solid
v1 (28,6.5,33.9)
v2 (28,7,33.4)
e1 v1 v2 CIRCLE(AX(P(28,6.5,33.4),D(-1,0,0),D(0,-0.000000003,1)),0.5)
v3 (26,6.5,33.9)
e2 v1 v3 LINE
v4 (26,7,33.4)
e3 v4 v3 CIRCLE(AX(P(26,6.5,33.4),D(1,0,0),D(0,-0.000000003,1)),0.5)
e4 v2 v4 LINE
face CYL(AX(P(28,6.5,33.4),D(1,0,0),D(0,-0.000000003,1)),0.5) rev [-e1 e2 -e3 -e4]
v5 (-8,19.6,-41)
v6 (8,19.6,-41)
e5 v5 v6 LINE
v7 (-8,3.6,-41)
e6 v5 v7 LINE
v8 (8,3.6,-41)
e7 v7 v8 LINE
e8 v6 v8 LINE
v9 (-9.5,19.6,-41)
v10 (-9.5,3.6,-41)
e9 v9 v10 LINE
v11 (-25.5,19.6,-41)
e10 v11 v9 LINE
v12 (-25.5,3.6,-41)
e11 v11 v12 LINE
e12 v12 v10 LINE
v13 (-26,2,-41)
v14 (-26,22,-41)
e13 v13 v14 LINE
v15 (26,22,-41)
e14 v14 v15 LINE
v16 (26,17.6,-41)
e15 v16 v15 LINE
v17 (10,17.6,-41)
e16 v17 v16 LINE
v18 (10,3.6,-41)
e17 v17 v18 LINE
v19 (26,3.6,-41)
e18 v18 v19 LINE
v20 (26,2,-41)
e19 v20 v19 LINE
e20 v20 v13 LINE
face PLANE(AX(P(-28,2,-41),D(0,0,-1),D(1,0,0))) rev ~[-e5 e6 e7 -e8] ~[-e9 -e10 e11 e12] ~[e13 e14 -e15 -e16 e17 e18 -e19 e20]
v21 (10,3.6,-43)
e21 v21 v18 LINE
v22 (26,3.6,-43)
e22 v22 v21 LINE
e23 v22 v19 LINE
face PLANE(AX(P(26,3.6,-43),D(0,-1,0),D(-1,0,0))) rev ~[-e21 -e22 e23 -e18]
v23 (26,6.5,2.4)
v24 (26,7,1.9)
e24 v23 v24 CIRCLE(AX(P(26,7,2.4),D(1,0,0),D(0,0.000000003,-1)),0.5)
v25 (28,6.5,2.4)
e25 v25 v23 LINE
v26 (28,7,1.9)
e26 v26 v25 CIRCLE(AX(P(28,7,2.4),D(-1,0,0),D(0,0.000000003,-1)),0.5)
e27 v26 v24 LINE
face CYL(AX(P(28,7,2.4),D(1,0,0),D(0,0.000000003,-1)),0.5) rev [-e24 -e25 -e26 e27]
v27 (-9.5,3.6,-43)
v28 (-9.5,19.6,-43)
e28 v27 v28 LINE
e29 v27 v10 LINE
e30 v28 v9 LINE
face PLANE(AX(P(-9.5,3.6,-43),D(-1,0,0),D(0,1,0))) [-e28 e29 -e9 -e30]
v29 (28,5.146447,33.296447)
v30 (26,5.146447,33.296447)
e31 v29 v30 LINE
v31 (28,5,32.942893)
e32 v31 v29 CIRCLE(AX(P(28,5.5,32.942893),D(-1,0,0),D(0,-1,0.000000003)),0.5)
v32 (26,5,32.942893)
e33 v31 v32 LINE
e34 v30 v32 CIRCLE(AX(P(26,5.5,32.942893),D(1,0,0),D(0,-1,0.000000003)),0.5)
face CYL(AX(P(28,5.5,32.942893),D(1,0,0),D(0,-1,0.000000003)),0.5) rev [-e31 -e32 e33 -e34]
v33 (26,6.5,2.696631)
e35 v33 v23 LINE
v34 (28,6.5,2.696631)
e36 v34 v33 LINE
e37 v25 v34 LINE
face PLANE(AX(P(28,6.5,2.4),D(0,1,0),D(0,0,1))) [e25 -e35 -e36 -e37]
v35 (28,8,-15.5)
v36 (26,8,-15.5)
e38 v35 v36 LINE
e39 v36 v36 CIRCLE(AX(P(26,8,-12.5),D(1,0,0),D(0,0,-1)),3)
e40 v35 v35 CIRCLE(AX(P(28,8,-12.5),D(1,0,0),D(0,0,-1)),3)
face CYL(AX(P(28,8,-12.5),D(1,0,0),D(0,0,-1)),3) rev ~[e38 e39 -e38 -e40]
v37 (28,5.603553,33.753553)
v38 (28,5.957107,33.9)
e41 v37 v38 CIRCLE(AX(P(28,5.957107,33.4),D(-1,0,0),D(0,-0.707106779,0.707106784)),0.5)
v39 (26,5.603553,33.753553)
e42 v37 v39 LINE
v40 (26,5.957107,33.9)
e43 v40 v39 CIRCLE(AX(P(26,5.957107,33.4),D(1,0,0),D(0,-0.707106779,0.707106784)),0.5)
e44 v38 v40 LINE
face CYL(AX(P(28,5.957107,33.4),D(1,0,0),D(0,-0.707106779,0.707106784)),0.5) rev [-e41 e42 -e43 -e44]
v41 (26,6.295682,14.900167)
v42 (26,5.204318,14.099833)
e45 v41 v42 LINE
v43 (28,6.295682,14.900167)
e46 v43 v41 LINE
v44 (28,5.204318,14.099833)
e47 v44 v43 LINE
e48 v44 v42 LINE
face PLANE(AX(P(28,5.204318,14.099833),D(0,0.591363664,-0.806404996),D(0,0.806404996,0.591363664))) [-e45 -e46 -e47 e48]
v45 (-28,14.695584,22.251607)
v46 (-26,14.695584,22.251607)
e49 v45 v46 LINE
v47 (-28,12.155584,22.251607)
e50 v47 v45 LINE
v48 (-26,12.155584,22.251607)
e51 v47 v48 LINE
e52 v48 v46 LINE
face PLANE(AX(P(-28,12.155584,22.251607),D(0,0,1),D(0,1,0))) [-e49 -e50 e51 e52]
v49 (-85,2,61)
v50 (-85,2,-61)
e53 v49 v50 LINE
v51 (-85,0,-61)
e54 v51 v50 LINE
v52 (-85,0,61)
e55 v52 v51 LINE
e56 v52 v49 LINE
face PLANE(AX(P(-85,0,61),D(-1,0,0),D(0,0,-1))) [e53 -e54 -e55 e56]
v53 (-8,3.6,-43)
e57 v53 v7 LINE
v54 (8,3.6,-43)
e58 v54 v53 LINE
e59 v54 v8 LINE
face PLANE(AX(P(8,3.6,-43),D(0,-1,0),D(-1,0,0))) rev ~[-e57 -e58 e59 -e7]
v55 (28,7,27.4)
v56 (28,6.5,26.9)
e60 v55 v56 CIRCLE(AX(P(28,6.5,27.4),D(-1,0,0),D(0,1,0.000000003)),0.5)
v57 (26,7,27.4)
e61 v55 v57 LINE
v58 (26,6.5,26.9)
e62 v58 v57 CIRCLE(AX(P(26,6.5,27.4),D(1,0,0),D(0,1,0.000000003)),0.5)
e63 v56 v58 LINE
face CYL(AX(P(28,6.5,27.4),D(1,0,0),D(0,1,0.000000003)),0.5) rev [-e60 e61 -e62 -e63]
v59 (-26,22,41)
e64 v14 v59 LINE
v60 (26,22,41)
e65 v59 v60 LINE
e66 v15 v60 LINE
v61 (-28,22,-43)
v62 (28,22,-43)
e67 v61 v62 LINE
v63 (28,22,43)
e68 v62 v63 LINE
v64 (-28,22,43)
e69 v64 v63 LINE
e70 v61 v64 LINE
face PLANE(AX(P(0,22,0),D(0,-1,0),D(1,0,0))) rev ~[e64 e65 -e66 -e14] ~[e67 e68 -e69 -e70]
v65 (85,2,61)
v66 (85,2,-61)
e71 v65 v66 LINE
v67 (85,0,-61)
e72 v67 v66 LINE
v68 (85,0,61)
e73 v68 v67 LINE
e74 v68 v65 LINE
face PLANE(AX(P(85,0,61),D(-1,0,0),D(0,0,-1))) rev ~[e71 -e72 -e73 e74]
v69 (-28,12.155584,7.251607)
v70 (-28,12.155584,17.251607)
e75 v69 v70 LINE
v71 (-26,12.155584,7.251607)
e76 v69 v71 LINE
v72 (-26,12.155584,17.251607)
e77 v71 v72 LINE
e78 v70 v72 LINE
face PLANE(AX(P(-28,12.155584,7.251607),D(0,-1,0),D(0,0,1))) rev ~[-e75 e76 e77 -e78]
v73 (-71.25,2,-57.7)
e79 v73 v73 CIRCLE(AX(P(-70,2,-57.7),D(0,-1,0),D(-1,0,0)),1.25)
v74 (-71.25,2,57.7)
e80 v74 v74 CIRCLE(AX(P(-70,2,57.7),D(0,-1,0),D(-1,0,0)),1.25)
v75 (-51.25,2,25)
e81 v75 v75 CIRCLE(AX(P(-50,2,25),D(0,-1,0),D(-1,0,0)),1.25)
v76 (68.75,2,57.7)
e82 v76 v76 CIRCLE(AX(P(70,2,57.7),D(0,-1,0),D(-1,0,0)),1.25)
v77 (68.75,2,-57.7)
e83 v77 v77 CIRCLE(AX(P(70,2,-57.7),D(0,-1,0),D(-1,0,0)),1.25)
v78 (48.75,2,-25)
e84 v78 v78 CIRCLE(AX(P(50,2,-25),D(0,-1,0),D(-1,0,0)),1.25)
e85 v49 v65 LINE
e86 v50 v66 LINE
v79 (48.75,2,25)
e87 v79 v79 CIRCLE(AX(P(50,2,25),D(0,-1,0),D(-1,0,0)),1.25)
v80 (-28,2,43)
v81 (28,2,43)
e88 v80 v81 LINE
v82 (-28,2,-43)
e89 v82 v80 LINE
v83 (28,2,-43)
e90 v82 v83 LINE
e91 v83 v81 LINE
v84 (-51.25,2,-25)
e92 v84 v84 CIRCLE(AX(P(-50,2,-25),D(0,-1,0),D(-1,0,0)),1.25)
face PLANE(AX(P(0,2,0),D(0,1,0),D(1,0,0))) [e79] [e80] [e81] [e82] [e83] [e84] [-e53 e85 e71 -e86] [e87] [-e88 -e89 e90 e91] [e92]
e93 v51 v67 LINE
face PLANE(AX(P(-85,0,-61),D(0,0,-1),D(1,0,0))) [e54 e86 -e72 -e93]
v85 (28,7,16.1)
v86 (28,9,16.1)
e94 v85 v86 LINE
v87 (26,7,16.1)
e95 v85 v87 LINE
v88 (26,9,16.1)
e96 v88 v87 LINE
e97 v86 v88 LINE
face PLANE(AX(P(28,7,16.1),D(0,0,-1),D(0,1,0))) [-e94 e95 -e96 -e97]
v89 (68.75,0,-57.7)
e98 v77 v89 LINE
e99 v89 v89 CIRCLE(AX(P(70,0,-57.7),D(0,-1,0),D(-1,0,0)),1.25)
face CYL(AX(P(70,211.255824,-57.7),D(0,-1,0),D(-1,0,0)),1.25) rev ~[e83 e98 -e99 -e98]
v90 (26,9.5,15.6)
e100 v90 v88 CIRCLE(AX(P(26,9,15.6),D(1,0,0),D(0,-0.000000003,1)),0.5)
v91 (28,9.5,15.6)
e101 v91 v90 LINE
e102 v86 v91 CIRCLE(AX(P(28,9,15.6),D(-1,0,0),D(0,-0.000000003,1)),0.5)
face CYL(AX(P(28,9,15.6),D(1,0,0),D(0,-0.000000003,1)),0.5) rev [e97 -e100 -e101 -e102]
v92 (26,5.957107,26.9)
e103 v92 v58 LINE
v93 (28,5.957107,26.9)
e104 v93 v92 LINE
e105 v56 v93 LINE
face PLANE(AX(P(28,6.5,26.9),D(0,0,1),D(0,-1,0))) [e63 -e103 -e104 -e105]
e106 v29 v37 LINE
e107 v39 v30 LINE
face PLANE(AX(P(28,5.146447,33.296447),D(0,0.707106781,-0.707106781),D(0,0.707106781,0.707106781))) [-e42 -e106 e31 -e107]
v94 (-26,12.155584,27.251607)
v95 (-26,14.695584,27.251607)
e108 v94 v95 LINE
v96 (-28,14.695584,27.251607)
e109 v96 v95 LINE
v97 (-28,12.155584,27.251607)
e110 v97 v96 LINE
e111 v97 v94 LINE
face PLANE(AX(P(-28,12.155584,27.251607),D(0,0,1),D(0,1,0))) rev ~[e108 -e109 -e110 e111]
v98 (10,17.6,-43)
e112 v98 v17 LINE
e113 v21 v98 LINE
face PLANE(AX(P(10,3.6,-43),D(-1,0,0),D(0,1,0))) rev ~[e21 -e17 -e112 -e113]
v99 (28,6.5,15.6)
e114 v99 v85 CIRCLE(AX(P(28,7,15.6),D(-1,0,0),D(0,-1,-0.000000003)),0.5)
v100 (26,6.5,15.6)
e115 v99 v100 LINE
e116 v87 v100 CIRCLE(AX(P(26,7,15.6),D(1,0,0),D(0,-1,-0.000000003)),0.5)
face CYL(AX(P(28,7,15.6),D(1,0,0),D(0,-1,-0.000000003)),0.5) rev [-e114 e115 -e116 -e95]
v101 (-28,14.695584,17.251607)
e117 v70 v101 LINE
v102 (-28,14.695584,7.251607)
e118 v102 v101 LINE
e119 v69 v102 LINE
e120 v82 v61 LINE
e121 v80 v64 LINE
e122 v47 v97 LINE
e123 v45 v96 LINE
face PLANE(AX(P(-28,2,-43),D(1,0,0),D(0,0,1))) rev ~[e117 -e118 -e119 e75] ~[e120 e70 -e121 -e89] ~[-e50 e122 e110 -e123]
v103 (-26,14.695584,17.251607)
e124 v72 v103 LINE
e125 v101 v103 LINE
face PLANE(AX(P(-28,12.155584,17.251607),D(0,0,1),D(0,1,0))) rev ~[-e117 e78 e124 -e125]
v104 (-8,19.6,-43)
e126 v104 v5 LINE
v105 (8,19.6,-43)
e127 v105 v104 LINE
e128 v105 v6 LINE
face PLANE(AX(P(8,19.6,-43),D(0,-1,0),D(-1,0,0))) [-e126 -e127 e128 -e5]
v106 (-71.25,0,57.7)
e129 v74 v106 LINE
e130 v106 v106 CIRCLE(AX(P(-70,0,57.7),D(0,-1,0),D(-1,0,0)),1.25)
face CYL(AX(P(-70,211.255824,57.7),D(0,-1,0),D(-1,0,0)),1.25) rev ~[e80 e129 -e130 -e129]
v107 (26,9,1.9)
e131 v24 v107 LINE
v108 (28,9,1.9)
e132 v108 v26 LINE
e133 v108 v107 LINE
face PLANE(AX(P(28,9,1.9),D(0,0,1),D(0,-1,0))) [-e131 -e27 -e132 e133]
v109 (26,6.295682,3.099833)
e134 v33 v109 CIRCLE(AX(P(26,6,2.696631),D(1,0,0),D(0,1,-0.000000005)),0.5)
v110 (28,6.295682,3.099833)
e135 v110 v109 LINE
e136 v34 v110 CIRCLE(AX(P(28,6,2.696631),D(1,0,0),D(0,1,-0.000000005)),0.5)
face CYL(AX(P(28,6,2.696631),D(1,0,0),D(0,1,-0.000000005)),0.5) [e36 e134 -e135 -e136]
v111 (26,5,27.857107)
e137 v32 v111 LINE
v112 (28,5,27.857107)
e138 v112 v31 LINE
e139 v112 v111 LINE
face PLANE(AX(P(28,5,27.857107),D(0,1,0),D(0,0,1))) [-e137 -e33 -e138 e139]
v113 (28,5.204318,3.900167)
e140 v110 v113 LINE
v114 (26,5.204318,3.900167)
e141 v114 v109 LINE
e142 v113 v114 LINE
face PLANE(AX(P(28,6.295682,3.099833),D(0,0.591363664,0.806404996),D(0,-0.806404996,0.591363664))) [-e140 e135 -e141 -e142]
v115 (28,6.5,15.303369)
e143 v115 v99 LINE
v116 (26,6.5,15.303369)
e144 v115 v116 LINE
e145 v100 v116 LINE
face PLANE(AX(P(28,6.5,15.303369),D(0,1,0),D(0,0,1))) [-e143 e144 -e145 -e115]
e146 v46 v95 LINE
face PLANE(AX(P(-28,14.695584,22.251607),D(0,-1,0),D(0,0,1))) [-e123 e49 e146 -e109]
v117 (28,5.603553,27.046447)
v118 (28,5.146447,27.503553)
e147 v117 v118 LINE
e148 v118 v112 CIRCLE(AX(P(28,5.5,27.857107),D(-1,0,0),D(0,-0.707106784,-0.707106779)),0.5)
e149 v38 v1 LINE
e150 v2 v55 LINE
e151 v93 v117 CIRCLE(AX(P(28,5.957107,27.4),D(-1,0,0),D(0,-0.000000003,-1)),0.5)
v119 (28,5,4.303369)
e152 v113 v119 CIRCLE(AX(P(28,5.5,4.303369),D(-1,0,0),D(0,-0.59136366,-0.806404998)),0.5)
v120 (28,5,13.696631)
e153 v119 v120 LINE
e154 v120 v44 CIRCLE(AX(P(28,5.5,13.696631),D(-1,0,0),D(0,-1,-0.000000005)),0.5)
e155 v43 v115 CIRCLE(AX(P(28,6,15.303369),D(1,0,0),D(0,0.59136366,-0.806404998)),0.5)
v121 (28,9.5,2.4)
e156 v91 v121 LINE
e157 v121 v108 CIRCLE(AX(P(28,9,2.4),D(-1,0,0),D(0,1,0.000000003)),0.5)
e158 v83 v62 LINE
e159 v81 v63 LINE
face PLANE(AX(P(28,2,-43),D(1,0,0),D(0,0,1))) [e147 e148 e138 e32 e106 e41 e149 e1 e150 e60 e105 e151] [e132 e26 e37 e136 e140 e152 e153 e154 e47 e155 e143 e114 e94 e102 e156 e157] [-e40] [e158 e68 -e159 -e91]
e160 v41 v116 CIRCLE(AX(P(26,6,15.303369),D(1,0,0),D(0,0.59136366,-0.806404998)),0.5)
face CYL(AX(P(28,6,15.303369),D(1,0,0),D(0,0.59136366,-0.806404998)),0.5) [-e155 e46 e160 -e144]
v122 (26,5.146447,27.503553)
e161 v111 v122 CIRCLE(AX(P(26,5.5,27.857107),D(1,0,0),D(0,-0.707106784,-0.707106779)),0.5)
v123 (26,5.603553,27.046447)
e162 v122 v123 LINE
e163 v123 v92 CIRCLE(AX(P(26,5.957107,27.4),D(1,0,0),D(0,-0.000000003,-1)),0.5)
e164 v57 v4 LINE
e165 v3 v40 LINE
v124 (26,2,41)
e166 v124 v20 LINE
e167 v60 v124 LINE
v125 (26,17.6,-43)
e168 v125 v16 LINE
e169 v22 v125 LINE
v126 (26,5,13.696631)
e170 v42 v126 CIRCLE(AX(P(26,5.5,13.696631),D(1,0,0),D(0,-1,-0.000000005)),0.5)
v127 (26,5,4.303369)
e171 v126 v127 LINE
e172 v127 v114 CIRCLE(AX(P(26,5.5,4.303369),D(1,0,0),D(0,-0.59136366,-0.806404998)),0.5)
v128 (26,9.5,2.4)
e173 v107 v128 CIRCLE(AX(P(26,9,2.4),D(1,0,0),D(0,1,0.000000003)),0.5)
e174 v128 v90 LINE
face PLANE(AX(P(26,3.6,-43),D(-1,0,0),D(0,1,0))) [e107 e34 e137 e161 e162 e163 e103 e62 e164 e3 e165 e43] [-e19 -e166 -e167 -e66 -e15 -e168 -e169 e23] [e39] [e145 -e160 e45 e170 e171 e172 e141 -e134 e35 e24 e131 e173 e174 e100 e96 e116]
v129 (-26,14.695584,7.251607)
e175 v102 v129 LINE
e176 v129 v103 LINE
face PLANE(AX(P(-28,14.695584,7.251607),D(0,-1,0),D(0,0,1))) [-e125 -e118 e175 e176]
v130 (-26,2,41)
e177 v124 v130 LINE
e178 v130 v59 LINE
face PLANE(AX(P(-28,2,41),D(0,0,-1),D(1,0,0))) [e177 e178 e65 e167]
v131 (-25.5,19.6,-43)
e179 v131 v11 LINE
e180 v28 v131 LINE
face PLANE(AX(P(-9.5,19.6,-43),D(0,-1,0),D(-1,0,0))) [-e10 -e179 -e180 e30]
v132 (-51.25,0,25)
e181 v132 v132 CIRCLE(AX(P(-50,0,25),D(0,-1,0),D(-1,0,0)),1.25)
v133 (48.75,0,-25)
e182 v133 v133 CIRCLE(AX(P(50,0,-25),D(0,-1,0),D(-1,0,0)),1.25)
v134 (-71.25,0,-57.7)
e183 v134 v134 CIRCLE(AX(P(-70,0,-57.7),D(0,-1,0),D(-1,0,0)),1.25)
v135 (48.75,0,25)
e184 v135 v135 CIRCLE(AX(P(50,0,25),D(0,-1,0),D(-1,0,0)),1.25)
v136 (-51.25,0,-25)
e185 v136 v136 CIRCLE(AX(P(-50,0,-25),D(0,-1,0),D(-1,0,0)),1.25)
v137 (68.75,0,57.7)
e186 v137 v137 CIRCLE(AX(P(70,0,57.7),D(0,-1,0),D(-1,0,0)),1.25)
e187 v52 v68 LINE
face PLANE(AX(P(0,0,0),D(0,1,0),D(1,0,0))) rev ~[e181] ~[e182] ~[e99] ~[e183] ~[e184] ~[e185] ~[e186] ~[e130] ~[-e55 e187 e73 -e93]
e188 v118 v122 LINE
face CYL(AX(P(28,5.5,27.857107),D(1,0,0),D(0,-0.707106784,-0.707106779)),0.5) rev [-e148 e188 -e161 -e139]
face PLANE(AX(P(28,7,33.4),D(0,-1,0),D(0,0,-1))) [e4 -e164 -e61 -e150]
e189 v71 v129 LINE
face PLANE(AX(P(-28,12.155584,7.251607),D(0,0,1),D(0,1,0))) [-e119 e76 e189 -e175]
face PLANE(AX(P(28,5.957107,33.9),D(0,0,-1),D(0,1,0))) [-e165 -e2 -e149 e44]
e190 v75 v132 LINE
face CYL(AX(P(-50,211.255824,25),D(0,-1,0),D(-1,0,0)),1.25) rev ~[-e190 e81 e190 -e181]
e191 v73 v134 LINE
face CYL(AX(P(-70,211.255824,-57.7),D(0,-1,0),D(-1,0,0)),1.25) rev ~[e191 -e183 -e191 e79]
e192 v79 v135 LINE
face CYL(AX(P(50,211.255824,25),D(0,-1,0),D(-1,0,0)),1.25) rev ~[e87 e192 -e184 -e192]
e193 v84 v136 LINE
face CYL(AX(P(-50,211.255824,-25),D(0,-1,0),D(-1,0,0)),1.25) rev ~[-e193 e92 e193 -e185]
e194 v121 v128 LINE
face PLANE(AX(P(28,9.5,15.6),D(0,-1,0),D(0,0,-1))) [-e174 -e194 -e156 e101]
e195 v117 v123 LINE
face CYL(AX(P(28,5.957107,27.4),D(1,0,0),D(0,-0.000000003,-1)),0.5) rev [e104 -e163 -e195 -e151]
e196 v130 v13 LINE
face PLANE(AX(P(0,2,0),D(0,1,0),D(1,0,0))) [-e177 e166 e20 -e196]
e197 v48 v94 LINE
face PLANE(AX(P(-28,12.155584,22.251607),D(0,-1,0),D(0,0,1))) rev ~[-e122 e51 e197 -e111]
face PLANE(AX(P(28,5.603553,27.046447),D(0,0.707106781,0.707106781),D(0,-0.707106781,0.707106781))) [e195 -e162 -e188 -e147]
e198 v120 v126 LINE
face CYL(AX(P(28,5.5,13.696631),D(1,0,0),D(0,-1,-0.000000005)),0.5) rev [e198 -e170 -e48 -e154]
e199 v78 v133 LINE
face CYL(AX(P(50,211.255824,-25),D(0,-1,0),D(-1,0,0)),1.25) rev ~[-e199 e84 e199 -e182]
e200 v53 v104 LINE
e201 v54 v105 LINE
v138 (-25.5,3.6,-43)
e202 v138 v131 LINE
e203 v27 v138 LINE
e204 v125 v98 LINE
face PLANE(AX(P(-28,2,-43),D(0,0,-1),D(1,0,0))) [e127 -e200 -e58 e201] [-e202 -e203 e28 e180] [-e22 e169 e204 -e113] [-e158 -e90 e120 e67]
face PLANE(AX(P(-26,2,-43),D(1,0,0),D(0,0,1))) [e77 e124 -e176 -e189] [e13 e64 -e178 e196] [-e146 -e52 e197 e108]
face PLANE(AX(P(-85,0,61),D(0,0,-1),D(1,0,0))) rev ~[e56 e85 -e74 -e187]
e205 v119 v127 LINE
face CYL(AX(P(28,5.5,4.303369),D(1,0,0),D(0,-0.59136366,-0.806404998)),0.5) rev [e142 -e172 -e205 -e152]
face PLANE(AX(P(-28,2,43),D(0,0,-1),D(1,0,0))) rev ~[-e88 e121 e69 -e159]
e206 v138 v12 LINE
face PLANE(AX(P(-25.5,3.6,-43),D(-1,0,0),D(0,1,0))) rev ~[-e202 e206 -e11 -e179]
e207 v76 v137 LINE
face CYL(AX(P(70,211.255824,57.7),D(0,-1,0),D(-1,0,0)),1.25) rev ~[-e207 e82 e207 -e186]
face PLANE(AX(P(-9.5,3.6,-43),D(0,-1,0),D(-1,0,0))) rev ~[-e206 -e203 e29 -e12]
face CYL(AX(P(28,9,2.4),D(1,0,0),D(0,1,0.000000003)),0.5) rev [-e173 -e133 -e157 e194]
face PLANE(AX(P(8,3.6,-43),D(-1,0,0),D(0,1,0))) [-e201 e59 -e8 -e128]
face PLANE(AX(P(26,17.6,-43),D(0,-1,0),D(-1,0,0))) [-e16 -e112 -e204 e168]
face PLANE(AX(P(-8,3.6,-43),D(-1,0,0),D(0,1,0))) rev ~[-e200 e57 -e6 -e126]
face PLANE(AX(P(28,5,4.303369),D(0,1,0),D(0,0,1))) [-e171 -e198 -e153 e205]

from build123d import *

# Parameters (mm, degrees)
ESQUISSE1_W                               = 170
ESQUISSE1_H                               = 122
BOSS_EXTRU_1_DEPTH                        = 2
TROU_POUR_TARAUDAGE_POUR_TROU_TARAUD_M3_D = 2.5
ESQUISSE4_W                               = 56
ESQUISSE4_H                               = 86
BOSS_EXTRU_2_DEPTH                        = 20
COQUE1_T                                  = -2
ENL_V_MAT_EXTRU_1_REACH                   = 132.284
ESQUISSE5_R                               = 3
ENL_V_MAT_EXTRU_2_REACH                   = 138.107
ESQUISSE6_W                               = 16
ESQUISSE6_H                               = 16
ESQUISSE6_H_2                             = 14
ENL_V_MAT_EXTRU_3_REACH                   = 132.284
ESQUISSE7_W                               = 10
ESQUISSE7_H                               = 2.54
ESQUISSE7_W_2                             = 5


with BuildPart() as part:
    # Esquisse1 → Boss.-Extru.1 (new body)
    with BuildSketch(Plane(origin=(0, 0, 0), x_dir=(1, 0, 0), z_dir=(0, 1, 0))):
        Rectangle(ESQUISSE1_W, ESQUISSE1_H)
    extrude(amount=BOSS_EXTRU_1_DEPTH)

    # Trou pour taraudage pour trou taraudé M3x0.51 (through all)
    with Locations(Plane(origin=(0, 2, 0), x_dir=(1, 0, 0), z_dir=(0, 1, 0))):
        with Locations((-50, 25), (50, 25), (50, -25), (-50, -25), (70, 57.7), (-70, -57.7), (-70, 57.7), (70, -57.7)):
            Hole(TROU_POUR_TARAUDAGE_POUR_TROU_TARAUD_M3_D / 2)

    # Esquisse4 → Boss.-Extru.2 (add)
    with BuildSketch(Plane.XZ.offset(-2)):
        Rectangle(ESQUISSE4_W, ESQUISSE4_H)
    extrude(amount=-BOSS_EXTRU_2_DEPTH)

    # Coque1
    coque1_openings = [part.faces().sort_by_distance(p)[0] for p in [
        (0, 22, 0),
    ]]
    offset(amount=COQUE1_T, openings=coque1_openings, kind=Kind.INTERSECTION)

    # Esquisse5 → Enlèv. mat.-Extru.1 (cut, up to next)
    with BuildSketch(Plane(origin=(28, 0, 0), x_dir=(0, 0, -1), z_dir=(1, 0, 0)), mode=Mode.PRIVATE) as enl_v_mat_extru_1_sk1:
        with Locations((12.5, 8)):
            Circle(ESQUISSE5_R)
    enl_v_mat_extru_1_tool1 = extrude(enl_v_mat_extru_1_sk1.sketch, amount=-ENL_V_MAT_EXTRU_1_REACH, mode=Mode.PRIVATE) & part.part
    # Esquisse5 → Enlèv. mat.-Extru.1 (cut, up to next)
    with BuildSketch(Plane(origin=(28, 0, 0), x_dir=(0, 0, -1), z_dir=(1, 0, 0)), mode=Mode.PRIVATE) as enl_v_mat_extru_1_sk2:
        with BuildLine():
            Line((-33.4, 7), (-27.4, 7))
            ThreePointArc((-27.4, 7), (-27.046446609, 6.853553391), (-26.9, 6.5))
            Line((-26.9, 6.5), (-26.9, 5.957106781))
            ThreePointArc((-26.9, 5.957106781), (-26.938060234, 5.765765065), (-27.046446609, 5.603553391))
            Line((-27.046446609, 5.603553391), (-27.503553391, 5.146446609))
            ThreePointArc((-27.503553391, 5.146446609), (-27.665765065, 5.038060234), (-27.857106781, 5))
            Line((-27.857106781, 5), (-32.942893219, 5))
            ThreePointArc((-32.942893219, 5), (-33.134234935, 5.038060234), (-33.296446609, 5.146446609))
            Line((-33.296446609, 5.146446609), (-33.753553391, 5.603553391))
            ThreePointArc((-33.753553391, 5.603553391), (-33.861939766, 5.765765065), (-33.9, 5.957106781))
            Line((-33.9, 5.957106781), (-33.9, 6.5))
            ThreePointArc((-33.9, 6.5), (-33.753553391, 6.853553391), (-33.4, 7))
        make_face()
    enl_v_mat_extru_1_tool2 = extrude(enl_v_mat_extru_1_sk2.sketch, amount=-ENL_V_MAT_EXTRU_1_REACH, mode=Mode.PRIVATE) & part.part
    # Esquisse5 → Enlèv. mat.-Extru.1 (cut, up to next)
    with BuildSketch(Plane(origin=(28, 0, 0), x_dir=(0, 0, -1), z_dir=(1, 0, 0)), mode=Mode.PRIVATE) as enl_v_mat_extru_1_sk3:
        with BuildLine():
            Line((-15.6, 9.5), (-2.4, 9.5))
            ThreePointArc((-2.4, 9.5), (-2.046446609, 9.353553391), (-1.9, 9))
            Line((-1.9, 9), (-1.9, 7))
            ThreePointArc((-1.9, 7), (-2.046446609, 6.646446609), (-2.4, 6.5))
            Line((-2.4, 6.5), (-2.696630825, 6.5))
            ThreePointArc((-2.696630825, 6.5), (-2.922638662, 6.446004998), (-3.099833323, 6.295681832))
            Line((-3.099833323, 6.295681832), (-3.900166677, 5.204318168))
            ThreePointArc((-3.900166677, 5.204318168), (-4.077361338, 5.053995002), (-4.303369175, 5))
            Line((-4.303369175, 5), (-13.696630825, 5))
            ThreePointArc((-13.696630825, 5), (-13.922638662, 5.053995002), (-14.099833323, 5.204318168))
            Line((-14.099833323, 5.204318168), (-14.900166677, 6.295681832))
            ThreePointArc((-14.900166677, 6.295681832), (-15.077361338, 6.446004998), (-15.303369175, 6.5))
            Line((-15.303369175, 6.5), (-15.6, 6.5))
            ThreePointArc((-15.6, 6.5), (-15.953553391, 6.646446609), (-16.1, 7))
            Line((-16.1, 7), (-16.1, 9))
            ThreePointArc((-16.1, 9), (-15.953553391, 9.353553391), (-15.6, 9.5))
        make_face()
    enl_v_mat_extru_1_tool3 = extrude(enl_v_mat_extru_1_sk3.sketch, amount=-ENL_V_MAT_EXTRU_1_REACH, mode=Mode.PRIVATE) & part.part
    add(enl_v_mat_extru_1_tool1.solids().sort_by_distance((28, 8, -12.5))[0], mode=Mode.SUBTRACT)
    add(enl_v_mat_extru_1_tool2.solids().sort_by_distance((28, 6.025513, 30.4))[0], mode=Mode.SUBTRACT)
    add(enl_v_mat_extru_1_tool3.solids().sort_by_distance((28, 7.376996, 9))[0], mode=Mode.SUBTRACT)

    # Esquisse6 → Enlèv. mat.-Extru.2 (cut, up to next)
    with BuildSketch(Plane(origin=(0, 0, -43), x_dir=(-1, 0, 0), z_dir=(0, 0, -1)), mode=Mode.PRIVATE) as enl_v_mat_extru_2_sk1:
        with Locations((17.5, 11.6)):
            Rectangle(ESQUISSE6_W, ESQUISSE6_H)
    enl_v_mat_extru_2_tool1 = extrude(enl_v_mat_extru_2_sk1.sketch, amount=-ENL_V_MAT_EXTRU_2_REACH, mode=Mode.PRIVATE) & part.part
    # Esquisse6 → Enlèv. mat.-Extru.2 (cut, up to next)
    with BuildSketch(Plane(origin=(0, 0, -43), x_dir=(-1, 0, 0), z_dir=(0, 0, -1)), mode=Mode.PRIVATE) as enl_v_mat_extru_2_sk2:
        with Locations((0, 11.6)):
            Rectangle(ESQUISSE6_W, ESQUISSE6_H)
    enl_v_mat_extru_2_tool2 = extrude(enl_v_mat_extru_2_sk2.sketch, amount=-ENL_V_MAT_EXTRU_2_REACH, mode=Mode.PRIVATE) & part.part
    # Esquisse6 → Enlèv. mat.-Extru.2 (cut, up to next)
    with BuildSketch(Plane(origin=(0, 0, -43), x_dir=(-1, 0, 0), z_dir=(0, 0, -1)), mode=Mode.PRIVATE) as enl_v_mat_extru_2_sk3:
        with Locations((-18, 10.6)):
            Rectangle(ESQUISSE6_W, ESQUISSE6_H_2)
    enl_v_mat_extru_2_tool3 = extrude(enl_v_mat_extru_2_sk3.sketch, amount=-ENL_V_MAT_EXTRU_2_REACH, mode=Mode.PRIVATE) & part.part
    add(enl_v_mat_extru_2_tool1.solids().sort_by_distance((-17.5, 11.6, -43))[0], mode=Mode.SUBTRACT)
    add(enl_v_mat_extru_2_tool2.solids().sort_by_distance((0, 11.6, -43))[0], mode=Mode.SUBTRACT)
    add(enl_v_mat_extru_2_tool3.solids().sort_by_distance((18, 10.6, -43))[0], mode=Mode.SUBTRACT)

    # Esquisse7 → Enlèv. mat.-Extru.3 (cut, up to next)
    with BuildSketch(Plane.ZY.offset(28), mode=Mode.PRIVATE) as enl_v_mat_extru_3_sk1:
        with Locations((12.251607125, 13.425584158)):
            Rectangle(ESQUISSE7_W, ESQUISSE7_H)
    enl_v_mat_extru_3_tool1 = extrude(enl_v_mat_extru_3_sk1.sketch, amount=-ENL_V_MAT_EXTRU_3_REACH, mode=Mode.PRIVATE) & part.part
    # Esquisse7 → Enlèv. mat.-Extru.3 (cut, up to next)
    with BuildSketch(Plane.ZY.offset(28), mode=Mode.PRIVATE) as enl_v_mat_extru_3_sk2:
        with Locations((24.751607125, 13.425584158)):
            Rectangle(ESQUISSE7_W_2, ESQUISSE7_H)
    enl_v_mat_extru_3_tool2 = extrude(enl_v_mat_extru_3_sk2.sketch, amount=-ENL_V_MAT_EXTRU_3_REACH, mode=Mode.PRIVATE) & part.part
    add(enl_v_mat_extru_3_tool1.solids().sort_by_distance((-28, 13.425584, 12.251607))[0], mode=Mode.SUBTRACT)
    add(enl_v_mat_extru_3_tool2.solids().sort_by_distance((-28, 13.425584, 24.751607))[0], mode=Mode.SUBTRACT)


solid = part.part
